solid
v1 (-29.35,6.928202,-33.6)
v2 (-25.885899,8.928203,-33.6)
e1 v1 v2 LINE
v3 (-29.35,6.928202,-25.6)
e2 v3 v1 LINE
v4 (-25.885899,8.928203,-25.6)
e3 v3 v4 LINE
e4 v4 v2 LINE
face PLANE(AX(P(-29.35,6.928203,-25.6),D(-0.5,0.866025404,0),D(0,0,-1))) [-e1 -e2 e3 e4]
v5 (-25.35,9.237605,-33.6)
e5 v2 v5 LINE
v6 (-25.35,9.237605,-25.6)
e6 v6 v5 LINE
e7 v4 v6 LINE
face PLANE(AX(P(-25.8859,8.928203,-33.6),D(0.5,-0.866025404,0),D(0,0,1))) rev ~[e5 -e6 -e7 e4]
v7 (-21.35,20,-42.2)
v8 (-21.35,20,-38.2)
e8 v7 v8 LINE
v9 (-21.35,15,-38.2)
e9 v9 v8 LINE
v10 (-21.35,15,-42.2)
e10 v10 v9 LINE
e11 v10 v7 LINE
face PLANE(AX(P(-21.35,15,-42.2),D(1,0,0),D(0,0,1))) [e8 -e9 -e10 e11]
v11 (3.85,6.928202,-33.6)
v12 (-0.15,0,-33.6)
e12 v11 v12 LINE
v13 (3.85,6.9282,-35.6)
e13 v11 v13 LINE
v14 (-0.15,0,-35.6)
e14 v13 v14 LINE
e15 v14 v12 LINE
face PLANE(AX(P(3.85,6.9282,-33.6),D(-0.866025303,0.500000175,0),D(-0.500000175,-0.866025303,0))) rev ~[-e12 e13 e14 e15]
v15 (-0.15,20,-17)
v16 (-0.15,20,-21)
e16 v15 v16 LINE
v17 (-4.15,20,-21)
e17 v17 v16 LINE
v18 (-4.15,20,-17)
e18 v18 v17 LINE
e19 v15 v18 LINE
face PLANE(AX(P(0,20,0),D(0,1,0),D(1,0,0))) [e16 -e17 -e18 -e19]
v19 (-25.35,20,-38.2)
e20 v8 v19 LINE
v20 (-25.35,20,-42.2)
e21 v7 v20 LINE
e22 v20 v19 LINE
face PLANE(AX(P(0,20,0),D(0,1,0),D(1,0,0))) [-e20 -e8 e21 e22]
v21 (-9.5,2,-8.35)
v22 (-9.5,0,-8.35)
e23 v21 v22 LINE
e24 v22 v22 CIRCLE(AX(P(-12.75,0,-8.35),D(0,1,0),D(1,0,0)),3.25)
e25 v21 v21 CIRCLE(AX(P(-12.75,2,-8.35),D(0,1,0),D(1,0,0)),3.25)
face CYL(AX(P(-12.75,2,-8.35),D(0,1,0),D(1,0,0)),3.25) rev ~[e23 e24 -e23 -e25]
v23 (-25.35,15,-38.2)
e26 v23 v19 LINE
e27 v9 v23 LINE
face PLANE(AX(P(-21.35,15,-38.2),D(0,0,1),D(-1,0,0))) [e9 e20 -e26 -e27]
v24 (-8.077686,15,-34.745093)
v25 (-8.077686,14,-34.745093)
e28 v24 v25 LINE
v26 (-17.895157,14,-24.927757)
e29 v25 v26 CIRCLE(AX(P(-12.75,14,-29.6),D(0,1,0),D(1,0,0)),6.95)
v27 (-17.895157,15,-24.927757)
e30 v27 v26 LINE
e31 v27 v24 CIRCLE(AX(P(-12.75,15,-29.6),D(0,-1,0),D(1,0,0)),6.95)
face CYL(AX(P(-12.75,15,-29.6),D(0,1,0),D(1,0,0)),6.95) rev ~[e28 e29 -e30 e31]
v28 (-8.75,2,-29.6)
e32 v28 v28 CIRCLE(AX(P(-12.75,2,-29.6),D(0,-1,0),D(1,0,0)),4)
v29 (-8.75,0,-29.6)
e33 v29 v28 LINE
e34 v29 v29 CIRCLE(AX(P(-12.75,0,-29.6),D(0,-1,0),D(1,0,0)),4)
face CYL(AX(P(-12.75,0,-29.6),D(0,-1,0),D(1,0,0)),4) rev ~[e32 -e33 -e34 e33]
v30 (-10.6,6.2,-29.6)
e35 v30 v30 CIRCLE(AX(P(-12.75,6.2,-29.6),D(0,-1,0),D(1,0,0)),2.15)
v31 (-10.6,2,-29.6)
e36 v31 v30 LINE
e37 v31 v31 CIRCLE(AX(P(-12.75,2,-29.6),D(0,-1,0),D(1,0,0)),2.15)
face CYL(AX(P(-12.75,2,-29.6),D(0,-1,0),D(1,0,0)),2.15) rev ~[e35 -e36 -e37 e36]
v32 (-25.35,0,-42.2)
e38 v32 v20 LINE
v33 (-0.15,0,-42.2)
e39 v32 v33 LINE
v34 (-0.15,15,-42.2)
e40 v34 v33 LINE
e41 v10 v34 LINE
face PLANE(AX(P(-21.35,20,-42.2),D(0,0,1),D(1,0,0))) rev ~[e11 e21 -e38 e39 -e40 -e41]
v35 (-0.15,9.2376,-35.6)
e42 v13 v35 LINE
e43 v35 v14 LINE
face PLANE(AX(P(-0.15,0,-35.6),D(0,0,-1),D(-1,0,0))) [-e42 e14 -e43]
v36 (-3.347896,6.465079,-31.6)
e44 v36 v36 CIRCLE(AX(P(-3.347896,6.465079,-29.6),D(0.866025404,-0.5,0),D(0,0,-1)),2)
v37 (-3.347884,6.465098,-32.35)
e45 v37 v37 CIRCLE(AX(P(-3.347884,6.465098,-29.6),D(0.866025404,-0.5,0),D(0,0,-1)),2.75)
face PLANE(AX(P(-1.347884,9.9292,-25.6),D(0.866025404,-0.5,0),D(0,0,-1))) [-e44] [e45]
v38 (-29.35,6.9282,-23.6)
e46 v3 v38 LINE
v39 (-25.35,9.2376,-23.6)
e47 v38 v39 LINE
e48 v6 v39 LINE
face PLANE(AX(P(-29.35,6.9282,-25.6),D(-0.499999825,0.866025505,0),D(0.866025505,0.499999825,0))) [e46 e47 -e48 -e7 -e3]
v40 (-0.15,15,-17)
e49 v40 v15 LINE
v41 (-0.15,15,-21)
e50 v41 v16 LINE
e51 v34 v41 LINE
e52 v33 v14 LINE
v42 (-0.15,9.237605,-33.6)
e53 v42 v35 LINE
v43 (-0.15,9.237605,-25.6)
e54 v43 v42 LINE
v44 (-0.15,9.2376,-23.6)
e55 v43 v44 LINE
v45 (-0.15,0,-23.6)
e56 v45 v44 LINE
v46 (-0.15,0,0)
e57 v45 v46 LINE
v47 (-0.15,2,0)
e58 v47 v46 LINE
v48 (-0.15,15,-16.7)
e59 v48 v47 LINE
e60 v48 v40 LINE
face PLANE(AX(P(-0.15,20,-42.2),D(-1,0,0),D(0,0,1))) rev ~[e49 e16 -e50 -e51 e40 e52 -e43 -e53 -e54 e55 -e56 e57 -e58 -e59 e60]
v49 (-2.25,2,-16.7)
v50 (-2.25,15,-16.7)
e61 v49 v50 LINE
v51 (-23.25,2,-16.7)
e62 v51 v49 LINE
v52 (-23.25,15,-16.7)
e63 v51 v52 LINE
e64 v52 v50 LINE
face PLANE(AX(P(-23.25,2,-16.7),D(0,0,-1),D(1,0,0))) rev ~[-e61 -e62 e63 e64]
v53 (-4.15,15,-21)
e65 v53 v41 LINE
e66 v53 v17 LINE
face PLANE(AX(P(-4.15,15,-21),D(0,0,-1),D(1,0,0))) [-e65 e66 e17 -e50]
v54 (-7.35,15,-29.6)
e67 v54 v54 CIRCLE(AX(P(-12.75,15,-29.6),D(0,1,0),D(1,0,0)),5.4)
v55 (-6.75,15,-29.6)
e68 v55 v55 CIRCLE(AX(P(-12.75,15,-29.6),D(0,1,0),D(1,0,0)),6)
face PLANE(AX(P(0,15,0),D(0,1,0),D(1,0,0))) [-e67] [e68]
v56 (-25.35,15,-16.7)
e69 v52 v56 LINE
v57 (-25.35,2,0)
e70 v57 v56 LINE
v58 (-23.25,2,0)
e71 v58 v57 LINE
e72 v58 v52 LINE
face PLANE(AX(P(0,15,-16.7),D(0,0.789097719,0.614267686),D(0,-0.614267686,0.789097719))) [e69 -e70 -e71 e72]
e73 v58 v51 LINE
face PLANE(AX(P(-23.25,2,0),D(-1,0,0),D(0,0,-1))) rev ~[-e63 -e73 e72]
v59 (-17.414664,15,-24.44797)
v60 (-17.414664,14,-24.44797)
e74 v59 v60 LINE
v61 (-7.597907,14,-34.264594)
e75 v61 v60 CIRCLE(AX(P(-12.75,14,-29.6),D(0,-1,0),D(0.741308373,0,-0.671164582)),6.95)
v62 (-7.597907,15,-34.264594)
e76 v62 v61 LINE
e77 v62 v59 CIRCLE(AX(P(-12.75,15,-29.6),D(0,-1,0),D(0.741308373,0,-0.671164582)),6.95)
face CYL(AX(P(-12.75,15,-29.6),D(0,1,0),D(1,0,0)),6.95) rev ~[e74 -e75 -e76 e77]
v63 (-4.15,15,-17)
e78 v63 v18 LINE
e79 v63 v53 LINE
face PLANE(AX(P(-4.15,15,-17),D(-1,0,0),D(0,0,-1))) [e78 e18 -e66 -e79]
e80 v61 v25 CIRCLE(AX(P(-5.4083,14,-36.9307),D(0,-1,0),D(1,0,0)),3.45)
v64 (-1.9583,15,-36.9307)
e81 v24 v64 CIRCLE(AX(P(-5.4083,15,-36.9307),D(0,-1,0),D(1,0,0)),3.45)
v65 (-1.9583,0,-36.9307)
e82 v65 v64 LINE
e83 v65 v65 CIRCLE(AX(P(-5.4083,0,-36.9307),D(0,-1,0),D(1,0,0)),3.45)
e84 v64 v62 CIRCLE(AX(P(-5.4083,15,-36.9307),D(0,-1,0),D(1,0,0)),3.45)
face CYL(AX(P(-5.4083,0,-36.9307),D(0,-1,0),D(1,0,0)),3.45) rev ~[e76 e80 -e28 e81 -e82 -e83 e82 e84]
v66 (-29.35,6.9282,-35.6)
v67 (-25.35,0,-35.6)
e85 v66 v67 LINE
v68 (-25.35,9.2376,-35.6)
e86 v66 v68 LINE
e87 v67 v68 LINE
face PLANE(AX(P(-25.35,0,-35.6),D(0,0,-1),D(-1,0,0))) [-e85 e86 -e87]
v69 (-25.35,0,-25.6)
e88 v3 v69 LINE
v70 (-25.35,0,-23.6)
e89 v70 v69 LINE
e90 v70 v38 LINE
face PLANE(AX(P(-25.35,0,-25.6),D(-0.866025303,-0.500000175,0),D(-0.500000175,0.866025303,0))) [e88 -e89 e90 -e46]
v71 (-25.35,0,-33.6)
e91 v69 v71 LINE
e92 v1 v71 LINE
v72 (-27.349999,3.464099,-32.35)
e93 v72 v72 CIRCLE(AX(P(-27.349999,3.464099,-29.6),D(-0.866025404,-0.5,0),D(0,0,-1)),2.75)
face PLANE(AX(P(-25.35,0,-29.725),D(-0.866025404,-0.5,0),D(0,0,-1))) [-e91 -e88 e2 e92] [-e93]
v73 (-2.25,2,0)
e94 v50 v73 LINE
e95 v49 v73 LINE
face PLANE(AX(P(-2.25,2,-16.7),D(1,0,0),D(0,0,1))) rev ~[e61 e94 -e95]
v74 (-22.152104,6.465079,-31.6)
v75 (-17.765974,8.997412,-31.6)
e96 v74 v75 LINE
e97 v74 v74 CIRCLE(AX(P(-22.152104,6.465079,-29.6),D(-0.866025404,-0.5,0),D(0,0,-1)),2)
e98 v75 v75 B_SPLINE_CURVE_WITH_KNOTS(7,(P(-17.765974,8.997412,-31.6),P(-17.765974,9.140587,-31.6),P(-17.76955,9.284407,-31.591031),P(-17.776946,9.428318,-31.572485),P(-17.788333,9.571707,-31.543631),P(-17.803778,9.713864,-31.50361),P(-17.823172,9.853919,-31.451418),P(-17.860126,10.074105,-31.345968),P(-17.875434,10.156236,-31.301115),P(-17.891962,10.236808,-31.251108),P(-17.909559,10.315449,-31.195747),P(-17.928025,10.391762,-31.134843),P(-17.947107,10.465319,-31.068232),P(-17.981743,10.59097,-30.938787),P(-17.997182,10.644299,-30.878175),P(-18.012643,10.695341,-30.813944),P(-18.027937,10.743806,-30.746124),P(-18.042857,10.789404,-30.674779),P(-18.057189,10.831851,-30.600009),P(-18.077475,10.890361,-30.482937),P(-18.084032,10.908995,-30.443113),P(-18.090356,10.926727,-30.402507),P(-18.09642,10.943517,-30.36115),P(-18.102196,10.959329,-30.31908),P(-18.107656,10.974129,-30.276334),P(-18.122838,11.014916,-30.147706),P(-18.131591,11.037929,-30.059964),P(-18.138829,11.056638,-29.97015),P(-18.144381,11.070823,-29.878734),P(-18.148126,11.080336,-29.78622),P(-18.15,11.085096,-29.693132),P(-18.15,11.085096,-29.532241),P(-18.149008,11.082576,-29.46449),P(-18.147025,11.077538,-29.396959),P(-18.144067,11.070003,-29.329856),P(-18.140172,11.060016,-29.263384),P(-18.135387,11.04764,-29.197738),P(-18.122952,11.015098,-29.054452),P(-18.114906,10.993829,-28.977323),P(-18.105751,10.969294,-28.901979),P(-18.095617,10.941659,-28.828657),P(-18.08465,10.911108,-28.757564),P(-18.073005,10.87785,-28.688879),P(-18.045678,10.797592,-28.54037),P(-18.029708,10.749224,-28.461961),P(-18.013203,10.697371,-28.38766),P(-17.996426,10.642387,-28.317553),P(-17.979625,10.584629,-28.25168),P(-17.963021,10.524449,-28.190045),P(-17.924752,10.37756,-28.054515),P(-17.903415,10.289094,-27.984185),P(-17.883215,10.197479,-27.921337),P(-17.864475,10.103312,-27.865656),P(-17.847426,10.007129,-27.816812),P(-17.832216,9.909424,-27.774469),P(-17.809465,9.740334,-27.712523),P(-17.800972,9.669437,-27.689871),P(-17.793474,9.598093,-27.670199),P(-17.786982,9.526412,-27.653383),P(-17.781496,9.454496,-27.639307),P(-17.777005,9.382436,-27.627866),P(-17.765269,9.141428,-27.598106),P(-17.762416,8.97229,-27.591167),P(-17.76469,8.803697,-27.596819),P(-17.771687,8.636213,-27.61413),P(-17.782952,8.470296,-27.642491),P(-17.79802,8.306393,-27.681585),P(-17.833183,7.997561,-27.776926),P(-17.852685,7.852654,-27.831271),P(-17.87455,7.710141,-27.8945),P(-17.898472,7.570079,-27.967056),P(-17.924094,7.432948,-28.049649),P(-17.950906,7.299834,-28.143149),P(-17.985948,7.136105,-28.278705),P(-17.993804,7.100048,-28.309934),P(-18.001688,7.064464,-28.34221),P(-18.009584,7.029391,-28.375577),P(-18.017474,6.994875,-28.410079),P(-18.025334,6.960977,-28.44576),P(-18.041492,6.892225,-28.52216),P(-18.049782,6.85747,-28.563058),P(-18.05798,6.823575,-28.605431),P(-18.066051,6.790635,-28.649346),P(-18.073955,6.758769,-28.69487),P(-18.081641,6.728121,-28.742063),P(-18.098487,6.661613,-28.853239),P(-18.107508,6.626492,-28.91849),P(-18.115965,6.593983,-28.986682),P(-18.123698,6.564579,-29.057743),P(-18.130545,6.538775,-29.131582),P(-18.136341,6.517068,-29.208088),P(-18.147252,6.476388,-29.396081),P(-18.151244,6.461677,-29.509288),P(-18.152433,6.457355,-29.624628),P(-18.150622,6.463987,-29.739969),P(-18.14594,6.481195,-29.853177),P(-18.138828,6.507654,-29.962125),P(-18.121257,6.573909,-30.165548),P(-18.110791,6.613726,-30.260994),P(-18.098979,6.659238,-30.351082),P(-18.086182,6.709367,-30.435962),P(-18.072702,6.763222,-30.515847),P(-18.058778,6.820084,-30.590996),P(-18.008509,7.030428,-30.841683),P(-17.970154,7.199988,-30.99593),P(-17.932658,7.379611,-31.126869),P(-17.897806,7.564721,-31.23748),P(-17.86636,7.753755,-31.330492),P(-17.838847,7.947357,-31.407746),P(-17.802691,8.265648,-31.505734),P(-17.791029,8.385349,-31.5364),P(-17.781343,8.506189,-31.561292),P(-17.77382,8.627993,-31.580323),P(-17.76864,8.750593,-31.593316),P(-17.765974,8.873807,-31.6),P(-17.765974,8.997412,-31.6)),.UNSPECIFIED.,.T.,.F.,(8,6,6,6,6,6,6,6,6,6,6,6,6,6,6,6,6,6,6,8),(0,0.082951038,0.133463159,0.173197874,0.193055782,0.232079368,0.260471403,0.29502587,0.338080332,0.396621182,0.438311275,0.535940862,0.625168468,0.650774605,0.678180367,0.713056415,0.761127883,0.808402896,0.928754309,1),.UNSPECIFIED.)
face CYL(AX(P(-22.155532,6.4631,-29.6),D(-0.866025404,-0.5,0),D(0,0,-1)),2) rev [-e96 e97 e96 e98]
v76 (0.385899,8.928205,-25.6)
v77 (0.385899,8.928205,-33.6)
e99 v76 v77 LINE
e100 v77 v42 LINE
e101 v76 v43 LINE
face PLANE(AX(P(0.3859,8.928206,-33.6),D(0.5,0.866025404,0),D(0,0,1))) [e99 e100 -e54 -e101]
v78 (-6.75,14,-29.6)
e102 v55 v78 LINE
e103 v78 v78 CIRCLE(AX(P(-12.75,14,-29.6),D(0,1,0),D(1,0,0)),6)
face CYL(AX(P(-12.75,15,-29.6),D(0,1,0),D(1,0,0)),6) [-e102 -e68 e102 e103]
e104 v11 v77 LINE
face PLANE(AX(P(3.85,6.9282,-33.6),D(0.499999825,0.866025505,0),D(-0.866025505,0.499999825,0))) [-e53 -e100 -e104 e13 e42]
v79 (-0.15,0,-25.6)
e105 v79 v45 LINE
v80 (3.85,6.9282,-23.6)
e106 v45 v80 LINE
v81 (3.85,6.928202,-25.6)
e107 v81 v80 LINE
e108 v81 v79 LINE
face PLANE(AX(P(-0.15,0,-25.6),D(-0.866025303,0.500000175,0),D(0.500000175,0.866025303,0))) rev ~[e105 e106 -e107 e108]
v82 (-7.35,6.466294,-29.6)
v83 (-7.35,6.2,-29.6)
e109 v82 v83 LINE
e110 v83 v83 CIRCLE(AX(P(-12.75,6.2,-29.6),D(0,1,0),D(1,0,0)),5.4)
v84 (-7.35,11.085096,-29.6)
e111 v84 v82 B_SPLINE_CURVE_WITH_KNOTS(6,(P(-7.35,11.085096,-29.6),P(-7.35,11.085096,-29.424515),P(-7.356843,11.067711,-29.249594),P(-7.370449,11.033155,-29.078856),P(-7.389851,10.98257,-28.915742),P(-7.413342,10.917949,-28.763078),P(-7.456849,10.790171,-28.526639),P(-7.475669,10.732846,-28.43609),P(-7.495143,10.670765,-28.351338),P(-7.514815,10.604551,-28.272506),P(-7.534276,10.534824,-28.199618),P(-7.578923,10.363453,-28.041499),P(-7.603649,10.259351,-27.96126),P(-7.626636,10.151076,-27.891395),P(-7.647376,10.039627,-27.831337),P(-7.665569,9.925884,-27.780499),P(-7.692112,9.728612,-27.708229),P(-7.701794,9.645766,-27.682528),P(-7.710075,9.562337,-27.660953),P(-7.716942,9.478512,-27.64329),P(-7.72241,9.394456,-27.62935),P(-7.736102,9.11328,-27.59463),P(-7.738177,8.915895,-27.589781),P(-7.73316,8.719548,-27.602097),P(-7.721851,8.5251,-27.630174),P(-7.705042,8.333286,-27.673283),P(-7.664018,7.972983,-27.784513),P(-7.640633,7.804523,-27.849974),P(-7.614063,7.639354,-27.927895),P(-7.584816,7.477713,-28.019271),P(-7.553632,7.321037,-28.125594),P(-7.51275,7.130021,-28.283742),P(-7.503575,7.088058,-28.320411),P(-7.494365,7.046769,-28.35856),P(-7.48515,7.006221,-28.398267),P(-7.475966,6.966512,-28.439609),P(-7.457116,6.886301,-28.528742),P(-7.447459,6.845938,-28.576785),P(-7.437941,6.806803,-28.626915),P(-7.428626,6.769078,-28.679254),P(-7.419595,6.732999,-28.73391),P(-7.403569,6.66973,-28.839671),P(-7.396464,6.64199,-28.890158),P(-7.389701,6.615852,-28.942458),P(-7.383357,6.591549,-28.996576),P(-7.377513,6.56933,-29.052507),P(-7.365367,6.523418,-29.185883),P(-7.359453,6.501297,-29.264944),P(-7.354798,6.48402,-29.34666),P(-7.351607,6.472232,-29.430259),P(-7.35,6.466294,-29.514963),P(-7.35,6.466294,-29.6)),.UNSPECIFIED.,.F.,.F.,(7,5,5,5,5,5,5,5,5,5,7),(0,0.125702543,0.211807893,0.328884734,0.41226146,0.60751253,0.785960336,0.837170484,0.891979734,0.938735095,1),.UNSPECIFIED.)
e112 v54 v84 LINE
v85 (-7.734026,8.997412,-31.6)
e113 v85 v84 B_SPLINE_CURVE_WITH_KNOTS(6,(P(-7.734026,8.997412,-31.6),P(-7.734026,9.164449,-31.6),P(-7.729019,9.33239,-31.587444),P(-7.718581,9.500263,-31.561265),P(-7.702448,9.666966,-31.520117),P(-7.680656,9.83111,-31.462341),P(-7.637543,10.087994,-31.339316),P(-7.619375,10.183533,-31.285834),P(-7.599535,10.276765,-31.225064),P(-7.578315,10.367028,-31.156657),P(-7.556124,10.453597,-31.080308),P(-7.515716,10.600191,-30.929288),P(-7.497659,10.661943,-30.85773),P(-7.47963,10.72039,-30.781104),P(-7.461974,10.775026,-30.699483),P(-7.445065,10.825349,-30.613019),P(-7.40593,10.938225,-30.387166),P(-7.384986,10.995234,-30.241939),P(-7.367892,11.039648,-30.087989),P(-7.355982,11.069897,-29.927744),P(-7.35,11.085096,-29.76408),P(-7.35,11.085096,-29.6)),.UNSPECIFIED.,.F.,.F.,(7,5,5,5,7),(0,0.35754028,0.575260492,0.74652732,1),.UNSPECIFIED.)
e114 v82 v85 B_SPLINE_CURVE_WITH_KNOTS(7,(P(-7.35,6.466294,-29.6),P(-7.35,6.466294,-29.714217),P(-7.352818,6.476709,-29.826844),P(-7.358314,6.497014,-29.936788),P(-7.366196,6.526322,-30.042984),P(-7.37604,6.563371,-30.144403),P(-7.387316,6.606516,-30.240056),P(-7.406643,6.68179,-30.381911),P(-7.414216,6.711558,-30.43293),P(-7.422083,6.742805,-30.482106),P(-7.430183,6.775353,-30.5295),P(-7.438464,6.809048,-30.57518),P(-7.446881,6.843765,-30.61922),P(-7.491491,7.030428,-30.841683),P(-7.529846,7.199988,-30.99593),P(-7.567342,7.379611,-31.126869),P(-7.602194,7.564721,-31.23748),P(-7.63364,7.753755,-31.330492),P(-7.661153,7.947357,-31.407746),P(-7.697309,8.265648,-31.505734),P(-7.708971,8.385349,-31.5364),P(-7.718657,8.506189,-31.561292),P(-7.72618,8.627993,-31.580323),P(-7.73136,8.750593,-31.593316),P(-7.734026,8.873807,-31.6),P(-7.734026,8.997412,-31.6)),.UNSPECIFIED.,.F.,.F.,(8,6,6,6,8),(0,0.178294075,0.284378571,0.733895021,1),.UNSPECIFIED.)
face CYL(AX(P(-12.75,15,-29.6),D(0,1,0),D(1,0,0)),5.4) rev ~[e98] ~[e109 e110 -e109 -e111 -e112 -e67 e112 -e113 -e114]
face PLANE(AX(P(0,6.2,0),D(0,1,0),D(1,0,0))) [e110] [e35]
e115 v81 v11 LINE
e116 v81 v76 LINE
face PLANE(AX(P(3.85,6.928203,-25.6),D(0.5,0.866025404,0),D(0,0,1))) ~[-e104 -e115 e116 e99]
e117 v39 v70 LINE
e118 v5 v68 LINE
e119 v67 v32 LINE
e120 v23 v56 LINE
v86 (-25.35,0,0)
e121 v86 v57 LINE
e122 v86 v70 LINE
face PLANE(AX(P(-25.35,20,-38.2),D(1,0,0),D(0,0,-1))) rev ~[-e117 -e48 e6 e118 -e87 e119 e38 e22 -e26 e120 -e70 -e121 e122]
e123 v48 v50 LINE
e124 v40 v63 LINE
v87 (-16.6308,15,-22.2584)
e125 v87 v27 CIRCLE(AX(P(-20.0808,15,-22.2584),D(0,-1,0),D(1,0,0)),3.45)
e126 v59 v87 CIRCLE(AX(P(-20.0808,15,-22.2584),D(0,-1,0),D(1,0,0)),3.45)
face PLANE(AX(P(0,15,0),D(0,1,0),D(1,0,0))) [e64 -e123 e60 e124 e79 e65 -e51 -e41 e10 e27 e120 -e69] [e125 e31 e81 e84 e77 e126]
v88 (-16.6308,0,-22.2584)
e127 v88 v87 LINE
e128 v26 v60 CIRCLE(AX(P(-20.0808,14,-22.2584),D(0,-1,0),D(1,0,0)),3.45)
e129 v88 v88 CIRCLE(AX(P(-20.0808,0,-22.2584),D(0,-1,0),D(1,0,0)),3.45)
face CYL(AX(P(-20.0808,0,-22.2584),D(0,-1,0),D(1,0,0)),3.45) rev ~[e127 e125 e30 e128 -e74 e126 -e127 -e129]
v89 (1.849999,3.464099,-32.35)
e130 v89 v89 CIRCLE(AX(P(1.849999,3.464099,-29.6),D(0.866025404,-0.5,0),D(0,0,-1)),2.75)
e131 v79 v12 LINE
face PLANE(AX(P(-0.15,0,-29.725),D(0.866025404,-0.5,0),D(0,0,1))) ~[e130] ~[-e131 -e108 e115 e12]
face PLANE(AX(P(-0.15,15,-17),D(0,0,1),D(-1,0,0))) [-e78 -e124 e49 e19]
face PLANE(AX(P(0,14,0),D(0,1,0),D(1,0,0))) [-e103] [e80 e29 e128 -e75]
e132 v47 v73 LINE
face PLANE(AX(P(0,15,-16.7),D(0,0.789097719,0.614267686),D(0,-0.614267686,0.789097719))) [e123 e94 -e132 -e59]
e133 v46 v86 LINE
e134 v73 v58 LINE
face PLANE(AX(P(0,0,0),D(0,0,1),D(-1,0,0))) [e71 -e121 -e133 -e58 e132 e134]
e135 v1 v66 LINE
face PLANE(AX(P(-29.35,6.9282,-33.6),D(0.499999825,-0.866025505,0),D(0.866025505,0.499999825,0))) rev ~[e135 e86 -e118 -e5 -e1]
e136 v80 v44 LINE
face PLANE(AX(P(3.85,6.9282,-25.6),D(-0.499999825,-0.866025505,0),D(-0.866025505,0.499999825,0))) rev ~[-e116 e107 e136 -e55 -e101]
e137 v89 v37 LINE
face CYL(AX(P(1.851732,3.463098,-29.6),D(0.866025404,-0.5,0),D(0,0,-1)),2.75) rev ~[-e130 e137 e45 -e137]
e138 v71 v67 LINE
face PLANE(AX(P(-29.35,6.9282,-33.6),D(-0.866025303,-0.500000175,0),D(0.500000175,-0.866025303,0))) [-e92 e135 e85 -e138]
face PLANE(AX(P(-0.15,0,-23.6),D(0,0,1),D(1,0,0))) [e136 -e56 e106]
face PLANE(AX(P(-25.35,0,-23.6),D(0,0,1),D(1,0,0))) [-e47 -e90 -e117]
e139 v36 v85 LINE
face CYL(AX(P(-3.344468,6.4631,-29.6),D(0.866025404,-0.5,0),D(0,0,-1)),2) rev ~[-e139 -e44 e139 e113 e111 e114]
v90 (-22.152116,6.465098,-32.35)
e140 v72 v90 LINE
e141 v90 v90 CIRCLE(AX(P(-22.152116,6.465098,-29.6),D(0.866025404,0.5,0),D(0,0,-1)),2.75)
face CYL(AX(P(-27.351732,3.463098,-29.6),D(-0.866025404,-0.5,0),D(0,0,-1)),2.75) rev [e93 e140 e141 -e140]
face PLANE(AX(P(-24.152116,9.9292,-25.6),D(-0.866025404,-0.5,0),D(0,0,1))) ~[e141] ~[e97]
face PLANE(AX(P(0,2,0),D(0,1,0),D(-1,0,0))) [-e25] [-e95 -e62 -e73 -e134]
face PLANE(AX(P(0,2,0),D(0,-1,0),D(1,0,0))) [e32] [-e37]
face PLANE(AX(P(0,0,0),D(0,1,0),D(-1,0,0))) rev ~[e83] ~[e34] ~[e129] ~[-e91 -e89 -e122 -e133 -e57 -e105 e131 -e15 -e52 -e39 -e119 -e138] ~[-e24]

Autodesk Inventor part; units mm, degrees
ref_plane "YZ Plane" through (0, 0, 0) normal (1, 0, 0) x (0, 1, 0)
sketch "Sketch1" plane through (0, 0, 0) normal (0, 1, 0) x (-1, 0, 0)
  line L0 (0, 0) -> (25.5, 0)
  line L1 (25.5, 0) -> (25.5, -42.5)
  line L2 (25.5, -42.5) -> (0, -42.5)
  line L3 (0, -42.5) -> (0, 0)
  dimension "d0" = 25.5
  dimension "d1" = 42.5
extrude "Extrusion1" add sketch "Sketch1" along normal blind 2
sketch "Sketch2" plane through (0, 2, 0) normal (0, 1, 0) x (1, 0, 0)
  line L0 (-25.5, 0) -> (0, 0) projected
  line L1 (-12.75, 0) -> (-2.25, 0)
  line L2 (-2.25, 0) -> (-23.25, 0)
  line L3 (-23.25, 0) -> (-23.25, 16.7)
  line L4 (-23.25, 16.7) -> (-2.25, 16.7)
  line L5 (-2.25, 16.7) -> (-2.25, 0)
  line L6 (-2.25, 0) -> (0, 0)
  line L7 (0, 0) -> (0, 19.3638)
  line L8 (0, 0) -> (0, 42.5) projected
  line L9 (0, 19.3638) -> (-25.5, 19.3638)
  line L10 (-25.5, 19.3638) -> (-25.5, 0)
  line L11 (-25.5, 0) -> (-23.25, 0)
  dimension "d4" = 10.5
  dimension "d5" = 21
  dimension "d6" = 16.7
extrude "Extrusion2" add sketch "Sketch2" along normal blind 13 contours L10 L9 L7 L0 L5 L4 L3
sketch "Sketch3" plane through (0, 0, 0) normal (1, 0, 0) x (0, 0, -1)
  line L0 (0, 2) -> (16.7, 2) projected
  line L1 (42.5, 0) -> (0, 0) projected
  line L2 (42.5, 0) -> (42.5, 2) projected
  line L3 (19.3638, 2) -> (42.5, 2) projected
  line L4 (19.3638, 2) -> (19.3638, 15) projected
  line L5 (0, 15) -> (19.3638, 15) projected
  line L6 (0, 0) -> (0, 15) projected
  line L7 (16.7, 2) -> (16.7, 15)
  line L8 (16.7, 15) -> (0, 2)
  line L9 (0, 0) -> (0, 15) projected
  line L10 (0, 2) -> (0, 15)
  line L11 (0, 15) -> (16.7, 15)
extrude "Extrusion3" cut sketch "Sketch3" against normal blind 130 contours L6 L5 L8
sketch "Sketch4" plane through (0, 2, 0) normal (0, 1, 0) x (1, 0, 0)
  line L0 (-23.25, 16.7) -> (-23.25, 0) projected
  line L1 (-23.25, 0) -> (-2.25, 0) projected
  line L2 (-2.25, 0) -> (-2.25, 16.7) projected
  line L3 (-2.25, 16.7) -> (-23.25, 16.7) projected
  circle A0 centre (-12.75, 8.35) radius 3.25
  point P0 (0, 0)
  dimension "d11" = 6.5
extrude "Extrusion4" cut sketch "Sketch4" against normal blind 130 contours A0
sketch "Sketch5" plane through (0, 2, 0) normal (0, 1, 0) x (1, 0, 0)
  line L0 (-25.5, 19.3638) -> (0, 19.3638) projected
  line L1 (0, 19.3638) -> (0, 42.5) projected
  line L2 (0, 42.5) -> (-25.5, 42.5) projected
  line L3 (-25.5, 42.5) -> (-25.5, 19.3638) projected
  point P0 (0, 0)
extrude "Extrusion5" add sketch "Sketch5" along normal blind 13
sketch "Sketch6" plane through (0, 15, 0) normal (0, 1, 0) x (1, 0, 0)
  point P0 (0, 0)
sketch "Sketch7" plane through (0, 15, 0) normal (0, 1, 0) x (1, 0, 0)
  line L0 (-25.5, 16.7) -> (-23.25, 16.7) projected
  line L1 (-23.25, 16.7) -> (-2.25, 16.7) projected
  line L2 (-2.25, 16.7) -> (0, 16.7) projected
  line L3 (0, 16.7) -> (0, 42.5) projected
  line L4 (0, 42.5) -> (-25.5, 42.5) projected
  line L5 (-25.5, 42.5) -> (-25.5, 16.7) projected
  circle A0 centre (-12.75, 29.6) radius 5.4
  point P0 (0, 0)
  dimension "d16" = 10.8
extrude "Extrusion6" cut sketch "Sketch7" against normal blind 8.8 contours A0
sketch "Sketch8" plane through (-12.75, 6.2, -29.6) normal (0, 1, 0) x (1, 0, 0)
  circle A0 centre (0, 0) radius 5.4 projected
  circle A1 centre (0, 0) radius 2.075
  point P0 (12.75, -29.6)
  dimension "d19" = 4.15
extrude "Extrusion7" cut sketch "Sketch8" against normal blind 8.8 contours A1
sketch "Sketch9" plane through (0, 15, 0) normal (0, 1, 0) x (1, 0, 0)
  line L0 (-25.35, 42.2) -> (-0.15, 42.2)
  line L1 (-0.15, 42.2) -> (-0.15, 17)
  line L2 (-0.15, 17) -> (-25.35, 17)
  line L3 (-25.35, 17) -> (-25.35, 42.2)
  line L4 (-0.15, 17) -> (-4.15, 17)
  line L5 (-4.15, 17) -> (-4.15, 21)
  line L6 (-4.15, 21) -> (-0.15, 21)
  line L7 (-0.15, 21) -> (-0.15, 17)
  line L8 (-25.35, 42.2) -> (-21.35, 42.2)
  line L9 (-21.35, 42.2) -> (-21.35, 38.2)
  line L10 (-21.35, 38.2) -> (-25.35, 38.2)
  line L11 (-25.35, 38.2) -> (-25.35, 42.2)
  circle A0 centre (-12.75, 29.6) radius 5.4 projected
  line L12 (-25.5, 16.7) -> (-23.25, 16.7) projected
  line L13 (-23.25, 16.7) -> (-2.25, 16.7) projected
  line L14 (-2.25, 16.7) -> (0, 16.7) projected
  line L15 (0, 16.7) -> (0, 42.5) projected
  line L16 (0, 42.5) -> (-25.5, 42.5) projected
  line L17 (-25.5, 42.5) -> (-25.5, 16.7) construction
  line L18 (-25.35, 42.2) -> (-27.4299, 42.2)
  line L19 (-27.4299, 42.2) -> (-27.4299, -5.4814)
  line L20 (-27.4299, -5.4814) -> (-25.35, -5.4814)
  line L21 (-25.35, -5.4814) -> (-25.35, 42.2)
  line L22 (-25.35, 42.2) -> (-27.4299, 42.2)
  line L23 (-27.4299, 42.2) -> (-27.4299, 44.6012)
  line L24 (-27.4299, 44.6012) -> (-25.35, 44.6012)
  line L25 (-25.35, 44.6012) -> (-25.35, 42.2)
  line L26 (-27.4299, 44.6012) -> (1.4745, 44.6012)
  line L27 (1.4745, 44.6012) -> (1.4745, 42.2)
  line L28 (1.4745, 42.2) -> (-27.4299, 42.2)
  line L29 (-27.4299, 42.2) -> (-27.4299, 44.6012)
  line L30 (-0.15, 17) -> (3.4405, 17)
  line L31 (3.4405, 17) -> (3.4405, 44.8771)
  line L32 (3.4405, 44.8771) -> (-0.15, 44.8771)
  line L33 (-0.15, 44.8771) -> (-0.15, 17)
  line L34 (-0.15, 17) -> (3.4405, 17)
  line L35 (3.4405, 17) -> (3.4405, -4.7226)
  line L36 (3.4405, -4.7226) -> (-0.15, -4.7226)
  line L37 (-0.15, -4.7226) -> (-0.15, 17)
  point P0 (0, 0)
  dimension "d22" = 25.2
  dimension "d23" = 25.2
  dimension "d24" = 4
  dimension "d25" = 4
  dimension "d26" = 4
  dimension "d27" = 4
extrude "Extrusion8" add sketch "Sketch9" along normal blind 5 contours L25 L16 L33 L0 | L0 L9 L10 L3 | L3 L21 L20 L19 L18 | L25 L26 L33 L16 | L28 L15 L30 L1 | L33 L16 L15 L28 | L33 L26 L27 L28 L15 L16 | L1 L2 L5 L6 | L28 L27 L26 L33 L32 L31 L30 L15 | L30 L15 L14 L37 | L30 L35 L36 L37 L14 L15
sketch "Sketch10" plane through (0, 20, 0) normal (0, 1, 0) x (1, 0, 0)
  line L0 (-0.15, 42.2) -> (-0.15, 21) projected
  line L1 (-0.15, 21) -> (-4.15, 21) projected
  line L2 (-4.15, 21) -> (-4.15, 17) projected
  line L3 (-4.15, 17) -> (-0.15, 17) projected
  line L4 (-0.15, 17) -> (-0.15, -4.7226) projected
  line L5 (-0.15, -4.7226) -> (3.4405, -4.7226) projected
  line L6 (3.4405, -4.7226) -> (3.4405, 44.8771) projected
  line L7 (3.4405, 44.8771) -> (-0.15, 44.8771) projected
  line L8 (-0.15, 44.8771) -> (-0.15, 44.6012) projected
  line L9 (-0.15, 44.6012) -> (-25.35, 44.6012) projected
  line L10 (-25.35, 44.6012) -> (-25.35, 42.2) projected
  line L11 (-25.35, 42.2) -> (-27.4299, 42.2) projected
  line L12 (-27.4299, 42.2) -> (-27.4299, -5.4814) projected
  line L13 (-27.4299, -5.4814) -> (-25.35, -5.4814) projected
  line L14 (-25.35, -5.4814) -> (-25.35, 38.2) projected
  line L15 (-25.35, 38.2) -> (-21.35, 38.2) projected
  line L16 (-21.35, 38.2) -> (-21.35, 42.2) projected
  line L17 (-21.35, 42.2) -> (-0.15, 42.2) projected
  line L18 (-21.35, 42.2) -> (-21.35, 38.2) projected
  line L19 (-21.35, 38.2) -> (-25.35, 38.2)
  line L20 (-25.35, 38.2) -> (-25.35, 42.2)
  line L21 (-25.35, 42.2) -> (-21.35, 42.2)
  line L22 (-21.35, 42.2) -> (-21.35, 38.2)
  line L23 (-0.15, 42.2) -> (-0.15, 21) projected
  line L24 (-0.15, 21) -> (-4.15, 21)
  line L25 (-4.15, 21) -> (-4.15, 17)
  line L26 (-4.15, 17) -> (-0.15, 17)
  line L27 (-0.15, 17) -> (-0.15, 21)
  line L28 (-25.5, 42.2) -> (-25.35, 42.2) projected
  line L29 (-25.35, 42.2) -> (-25.35, 42.5) projected
  line L30 (-25.35, 42.5) -> (-25.5, 42.5) projected
  line L31 (-25.5, 42.5) -> (-25.5, 42.2) projected
  point P0 (0, 0)
extrude "Extrusion9" cut sketch "Sketch10" against normal blind 1000 contours L17 L21 L10 L9 L8 L7 L6 L5 L4 L27 L0 | L20 L14 L13 L12 L11
sketch "Sketch11" plane through (0, 15, 0) normal (0, 1, 0) x (1, 0, 0)
  line L0 (-25.5, 42.2) -> (-25.35, 42.2) projected
  line L1 (-25.35, 42.2) -> (-25.35, 42.5) projected
  line L2 (-25.35, 42.5) -> (-25.5, 42.5) projected
  line L3 (-25.5, 42.5) -> (-25.5, 42.2) projected
  point P0 (0, 0)
extrude "Extrusion10" cut sketch "Sketch11" against normal blind 1000
sketch "Sketch12" plane through (0, 15, 0) normal (0, 1, 0) x (1, 0, 0)
  circle A0 centre (-20.0808, 22.2584) radius 2.625
  circle A1 centre (-20.0808, 22.2584) radius 2.625
  circle A2 centre (-5.4083, 36.9307) radius 2.625
  circle A3 centre (-12.75, 29.6) radius 5.5
  arc A4 (-25.35, 19) -> (-23.35, 17) centre (-23.35, 19) ccw
  line L0 (-4.15, 17) -> (-23.35, 17)
  line L1 (-4.15, 17) -> (-4.15, 21)
  line L2 (-4.15, 21) -> (-0.15, 21)
  line L3 (-0.15, 40.2) -> (-0.15, 21)
  arc A5 (-0.15, 40.2) -> (-2.15, 42.2) centre (-2.15, 40.2) ccw
  line L4 (-21.35, 42.2) -> (-2.15, 42.2)
  line L5 (-21.35, 42.2) -> (-21.35, 38.2)
  line L6 (-21.35, 38.2) -> (-25.35, 38.2)
  line L7 (-25.35, 19) -> (-25.35, 38.2)
  circle A6 centre (-12.75, 29.6) radius 2.075 projected
  circle A7 centre (-12.75, 29.6) radius 5.4 projected
  point P0 (0, 0)
  point P1 (-25.35, 42.2)
extrude "Extrusion11" cut sketch "Sketch12" against normal blind 1000 contours A0 | A2
sketch "Sketch13" plane through (0, 0, 0) normal (0, -1, 0) x (1, 0, 0)
  circle A0 centre (-5.4083, -36.9307) radius 2.625 projected
  circle A1 centre (-20.0808, -22.2584) radius 2.625 projected
  line L0 (-25.35, 0) -> (-25.35, -42.2) projected
  line L1 (-25.35, -42.2) -> (-0.15, -42.2) projected
  line L2 (-0.15, -42.2) -> (-0.15, 0) projected
  line L3 (-0.15, 0) -> (-25.35, 0) projected
  circle A2 centre (-12.75, -8.35) radius 3.25 projected
  circle A3 centre (-12.75, -29.6) radius 2.075 projected
  circle A4 centre (-20.0808, -22.2584) radius 3.45
  circle A5 centre (-5.4083, -36.9307) radius 3.45
  point P0 (0, 0)
  dimension "d36" = 6.9
  dimension "d37" = 6.9
extrude "Extrusion12" cut sketch "Sketch13" against normal blind 1000 contours A4 | A5
sketch "Sketch14" plane through (0, 0, 0) normal (0, -1, 0) x (1, 0, 0)
  circle A0 centre (-20.0808, -22.2584) radius 3.45 projected
  circle A1 centre (-5.4083, -36.9307) radius 3.45 projected
  line L0 (-25.35, 0) -> (-25.35, -42.2) projected
  line L1 (-25.35, -42.2) -> (-0.15, -42.2) projected
  line L2 (-0.15, -42.2) -> (-0.15, 0) projected
  line L3 (-0.15, 0) -> (-25.35, 0) projected
  circle A2 centre (-12.75, -8.35) radius 3.25 projected
  circle A3 centre (-12.75, -29.6) radius 2.075 projected
  circle A4 centre (-12.75, -29.6) radius 4
  point P0 (0, 0)
  dimension "d40" = 8
extrude "Extrusion13" cut sketch "Sketch14" against normal blind 2 contours A4
sketch "Sketch15" plane through (0, 15, 0) normal (0, 1, 0) x (1, 0, 0)
  circle A0 centre (-20.0808, 22.2584) radius 3.45 projected
  circle A1 centre (-5.4083, 36.9307) radius 3.45 projected
  circle A2 centre (-12.75, 29.6) radius 5.4 projected
  line L0 (-0.15, 16.7) -> (-0.15, 17) projected
  line L1 (-0.15, 17) -> (-4.15, 17) projected
  line L2 (-4.15, 17) -> (-4.15, 21) projected
  line L3 (-4.15, 21) -> (-0.15, 21) projected
  line L4 (-0.15, 21) -> (-0.15, 42.2) projected
  line L5 (-0.15, 42.2) -> (-21.35, 42.2) projected
  line L6 (-21.35, 42.2) -> (-21.35, 38.2) projected
  line L7 (-21.35, 38.2) -> (-25.35, 38.2) projected
  line L8 (-25.35, 38.2) -> (-25.35, 16.7) projected
  line L9 (-25.35, 16.7) -> (-23.25, 16.7) projected
  line L10 (-23.25, 16.7) -> (-2.25, 16.7) projected
  line L11 (-2.25, 16.7) -> (-0.15, 16.7) projected
  circle A3 centre (-12.75, 29.6) radius 6.95
  circle A4 centre (-12.75, 29.6) radius 6
  point P0 (0, 0)
  dimension "d43" = 13.9
  dimension "d44" = 12
extrude "Extrusion14" cut sketch "Sketch15" against normal blind 1 contours A3 A0 | A0 A3 A1 | A3 A1 picked at (-17.6229, 24.6665) picked at (-7.8164, 34.4729)
sketch "Sketch16" plane through (-25.35, 20, -42.2) normal (-1, 0, 0) x (0, 0, 1)
  point P0 (42.2, -20)
ref_plane "Work Plane1" through (-25.35, 0, -29.725) normal (-0.866, -0.5, 0) x (0, 0, -1)
sketch "Sketch17" plane through (-25.35, 0, -29.725) normal (-0.866, -0.5, 0) x (0, 0, -1)
  line L0 (-29.725, 0) -> (12.475, 0) projected
  ellipse E0 centre (-0.125, 4.5679) end of major axis (1.95, 4.5679) minor radius 1.0375 projected
  ellipse E1 centre (-0.125, 6.3) end of major axis (-4.125, 6.3) minor radius 2 projected
  ellipse E2 centre (-0.125, -6.6904) end of major axis (5.275, -6.6904) minor radius 2.7 projected
  line L1 (-0.125, -6.6904) -> (-0.125, 6.3)
  line L2 (-0.125, 0) -> (3.875, 0)
  line L3 (3.875, 0) -> (-4.125, 0)
  line L4 (-4.125, 0) -> (-4.125, -8)
  line L5 (-4.125, -8) -> (3.875, -8)
  line L6 (3.875, -8) -> (3.875, 0)
  point P0 (-29.725, 12.675)
  dimension "d48" = 4
  dimension "d49" = 8
  dimension "d50" = 8
extrude "Extrusion15" add sketch "Sketch17" against normal blind 4 contours L0 L1 E2 L4 | L0 L6 E2 L1 | E2 L6 L5 L4 picked at (-0.125, -6.6635)
sketch "Sketch18" plane through (-21.8859, 2, -29.725) normal (0.866, 0.5, 0) x (0, 0, -1)
  line L0 (3.875, 8) -> (-4.125, 8) projected
  line L1 (3.875, 6.9282) -> (-4.125, 6.9282) projected
  line L2 (3.875, 6.9282) -> (3.875, 8) projected
  line L3 (3.875, 8) -> (-4.125, 8) projected
  line L4 (-4.125, 8) -> (-4.125, 6.9282) projected
  point P0 (-29.725, -12.675)
extrude "Extrusion16" add sketch "Sketch18" along normal blind 1
ref_plane "Work Plane2" through (-12.75, 20, -42.2) normal (-1, 0, 0) x (0, 0, 1)
mirror "Mirror1" about plane through (-12.75, 20, -42.2) normal (-1, 0, 0) of "Extrusion15"
sketch "Sketch19" plane through (-0.15, 8, -33.6) normal (-0.866, 0.5, 0) x (0, 0, 1)
  line L0 (8, 0) -> (0, 0) projected
  line L1 (8, 1.0718) -> (8, 0) projected
  line L2 (0, 1.0718) -> (8, 1.0718) projected
  line L3 (0, 0) -> (0, 1.0718) projected
  point P0 (33.6, -6.8532)
extrude "Extrusion17" add sketch "Sketch19" along normal blind 1
sketch "Sketch20" plane through (3.85, 6.9282, -25.6) normal (0.866, -0.5, 0) x (0, 0, -1)
  point P0 (-25.6, -7.925)
sketch "Sketch21" plane through (3.85, 6.9282, -25.6) normal (0.866, -0.5, 0) x (0, 0, -1)
  line L0 (8, -8) -> (0, -8) projected
  line L1 (8, 0) -> (8, -8) projected
  line L2 (0, 0) -> (8, 0) projected
  line L3 (0, -8) -> (0, 0) projected
  line L4 (8, -8) -> (0, -8) projected
  line L5 (0, -8) -> (0, 0) projected
  circle A0 centre (4, -4) radius 2.75
  point P0 (-25.6, -7.925)
  dimension "d58" = 5.5
extrude "Extrusion18" cut sketch "Sketch21" against normal blind 6 contours A0
sketch "Sketch22" plane through (-3.3462, 6.4641, -29.6) normal (0.866, -0.5, 0) x (0, 0, -1)
  circle A0 centre (0, 0) radius 2.75 projected
  circle A1 centre (0, 0) radius 2
  point P0 (-29.6, -3.925)
  dimension "d61" = 4
extrude "Extrusion19" cut sketch "Sketch22" against normal blind 6 contours A1
mirror "Mirror2" about plane through (-12.75, 20, -42.2) normal (-1, 0, 0) of "Extrusion18", "Extrusion19"
sketch "Sketch23" plane through (-25.35, 0, -33.6) normal (0, 0, -1) x (-1, 0, 0)
  line L0 (0, 0) -> (0, 9.2376) projected
  line L1 (4, 6.9282) -> (0, 0) projected
  line L2 (4, 6.9282) -> (0, 9.2376) projected
  point P0 (-25.35, 0)
extrude "Extrusion20" add sketch "Sketch23" along normal blind 2
sketch "Sketch24" plane through (-25.35, 0, -25.6) normal (0, 0, 1) x (1, 0, 0)
  line L0 (1.8212, 8.8457) -> (-3.375, 5.8457) projected
  line L1 (0, 9.2376) -> (0, 0) projected
  line L2 (-4, 6.9282) -> (0, 9.2376) projected
  line L3 (0, 0) -> (-4, 6.9282) projected
  point P0 (25.35, 0)
extrude "Extrusion21" add sketch "Sketch24" along normal blind 2
sketch "Sketch25" plane through (-0.15, 0, -25.6) normal (0, 0, 1) x (1, 0, 0)
  line L0 (0, 0) -> (0, 9.2376) projected
  line L1 (0, 0) -> (4, 6.9282) projected
  line L2 (4, 6.9282) -> (0, 9.2376) projected
  point P0 (0.15, 0)
extrude "Extrusion22" add sketch "Sketch25" along normal blind 2
sketch "Sketch26" plane through (-0.15, 0, -33.6) normal (0, 0, -1) x (-1, 0, 0)
  point P0 (-0.15, 0)
sketch "Sketch27" plane through (-0.15, 0, -33.6) normal (0, 0, -1) x (-1, 0, 0)
  line L0 (0, 9.2376) -> (0, 0) projected
  line L1 (-4, 6.9282) -> (0, 9.2376) projected
  line L2 (-4, 6.9282) -> (0, 0) projected
  point P0 (-0.15, 0)
extrude "Extrusion23" add sketch "Sketch27" along normal blind 2
sketch "Sketch28" plane through (0, 0, 0) normal (0, -1, 0) x (1, 0, 0)
  circle A0 centre (-12.75, -29.6) radius 4 projected
  circle A1 centre (-20.0808, -22.2584) radius 3.45 projected
  circle A2 centre (-5.4083, -36.9307) radius 3.45 projected
  line L0 (-25.35, 0) -> (-25.35, -23.6) projected
  line L1 (-25.35, -23.6) -> (-25.35, -35.6) projected
  line L2 (-25.35, -35.6) -> (-25.35, -42.2) projected
  line L3 (-25.35, -42.2) -> (-0.15, -42.2) projected
  line L4 (-0.15, -42.2) -> (-0.15, -35.6) projected
  line L5 (-0.15, -35.6) -> (-0.15, -23.6) projected
  line L6 (-0.15, -23.6) -> (-0.15, 0) projected
  line L7 (-0.15, 0) -> (-25.35, 0) projected
  circle A3 centre (-12.75, -8.35) radius 3.25 projected
  circle A4 centre (-12.75, -29.6) radius 2.075 projected
  point P0 (0, 0)
sketch "Sketch29" plane through (-12.75, 2, -29.6) normal (0, -1, 0) x (1, 0, 0)
  circle A0 centre (0, 0) radius 2.15
  point P0 (12.75, 29.6)
  dimension "d72" = 4.3
extrude "Extrusion24" cut sketch "Sketch29" against normal blind 10
properties part number "uppernozzle" material "Water"
